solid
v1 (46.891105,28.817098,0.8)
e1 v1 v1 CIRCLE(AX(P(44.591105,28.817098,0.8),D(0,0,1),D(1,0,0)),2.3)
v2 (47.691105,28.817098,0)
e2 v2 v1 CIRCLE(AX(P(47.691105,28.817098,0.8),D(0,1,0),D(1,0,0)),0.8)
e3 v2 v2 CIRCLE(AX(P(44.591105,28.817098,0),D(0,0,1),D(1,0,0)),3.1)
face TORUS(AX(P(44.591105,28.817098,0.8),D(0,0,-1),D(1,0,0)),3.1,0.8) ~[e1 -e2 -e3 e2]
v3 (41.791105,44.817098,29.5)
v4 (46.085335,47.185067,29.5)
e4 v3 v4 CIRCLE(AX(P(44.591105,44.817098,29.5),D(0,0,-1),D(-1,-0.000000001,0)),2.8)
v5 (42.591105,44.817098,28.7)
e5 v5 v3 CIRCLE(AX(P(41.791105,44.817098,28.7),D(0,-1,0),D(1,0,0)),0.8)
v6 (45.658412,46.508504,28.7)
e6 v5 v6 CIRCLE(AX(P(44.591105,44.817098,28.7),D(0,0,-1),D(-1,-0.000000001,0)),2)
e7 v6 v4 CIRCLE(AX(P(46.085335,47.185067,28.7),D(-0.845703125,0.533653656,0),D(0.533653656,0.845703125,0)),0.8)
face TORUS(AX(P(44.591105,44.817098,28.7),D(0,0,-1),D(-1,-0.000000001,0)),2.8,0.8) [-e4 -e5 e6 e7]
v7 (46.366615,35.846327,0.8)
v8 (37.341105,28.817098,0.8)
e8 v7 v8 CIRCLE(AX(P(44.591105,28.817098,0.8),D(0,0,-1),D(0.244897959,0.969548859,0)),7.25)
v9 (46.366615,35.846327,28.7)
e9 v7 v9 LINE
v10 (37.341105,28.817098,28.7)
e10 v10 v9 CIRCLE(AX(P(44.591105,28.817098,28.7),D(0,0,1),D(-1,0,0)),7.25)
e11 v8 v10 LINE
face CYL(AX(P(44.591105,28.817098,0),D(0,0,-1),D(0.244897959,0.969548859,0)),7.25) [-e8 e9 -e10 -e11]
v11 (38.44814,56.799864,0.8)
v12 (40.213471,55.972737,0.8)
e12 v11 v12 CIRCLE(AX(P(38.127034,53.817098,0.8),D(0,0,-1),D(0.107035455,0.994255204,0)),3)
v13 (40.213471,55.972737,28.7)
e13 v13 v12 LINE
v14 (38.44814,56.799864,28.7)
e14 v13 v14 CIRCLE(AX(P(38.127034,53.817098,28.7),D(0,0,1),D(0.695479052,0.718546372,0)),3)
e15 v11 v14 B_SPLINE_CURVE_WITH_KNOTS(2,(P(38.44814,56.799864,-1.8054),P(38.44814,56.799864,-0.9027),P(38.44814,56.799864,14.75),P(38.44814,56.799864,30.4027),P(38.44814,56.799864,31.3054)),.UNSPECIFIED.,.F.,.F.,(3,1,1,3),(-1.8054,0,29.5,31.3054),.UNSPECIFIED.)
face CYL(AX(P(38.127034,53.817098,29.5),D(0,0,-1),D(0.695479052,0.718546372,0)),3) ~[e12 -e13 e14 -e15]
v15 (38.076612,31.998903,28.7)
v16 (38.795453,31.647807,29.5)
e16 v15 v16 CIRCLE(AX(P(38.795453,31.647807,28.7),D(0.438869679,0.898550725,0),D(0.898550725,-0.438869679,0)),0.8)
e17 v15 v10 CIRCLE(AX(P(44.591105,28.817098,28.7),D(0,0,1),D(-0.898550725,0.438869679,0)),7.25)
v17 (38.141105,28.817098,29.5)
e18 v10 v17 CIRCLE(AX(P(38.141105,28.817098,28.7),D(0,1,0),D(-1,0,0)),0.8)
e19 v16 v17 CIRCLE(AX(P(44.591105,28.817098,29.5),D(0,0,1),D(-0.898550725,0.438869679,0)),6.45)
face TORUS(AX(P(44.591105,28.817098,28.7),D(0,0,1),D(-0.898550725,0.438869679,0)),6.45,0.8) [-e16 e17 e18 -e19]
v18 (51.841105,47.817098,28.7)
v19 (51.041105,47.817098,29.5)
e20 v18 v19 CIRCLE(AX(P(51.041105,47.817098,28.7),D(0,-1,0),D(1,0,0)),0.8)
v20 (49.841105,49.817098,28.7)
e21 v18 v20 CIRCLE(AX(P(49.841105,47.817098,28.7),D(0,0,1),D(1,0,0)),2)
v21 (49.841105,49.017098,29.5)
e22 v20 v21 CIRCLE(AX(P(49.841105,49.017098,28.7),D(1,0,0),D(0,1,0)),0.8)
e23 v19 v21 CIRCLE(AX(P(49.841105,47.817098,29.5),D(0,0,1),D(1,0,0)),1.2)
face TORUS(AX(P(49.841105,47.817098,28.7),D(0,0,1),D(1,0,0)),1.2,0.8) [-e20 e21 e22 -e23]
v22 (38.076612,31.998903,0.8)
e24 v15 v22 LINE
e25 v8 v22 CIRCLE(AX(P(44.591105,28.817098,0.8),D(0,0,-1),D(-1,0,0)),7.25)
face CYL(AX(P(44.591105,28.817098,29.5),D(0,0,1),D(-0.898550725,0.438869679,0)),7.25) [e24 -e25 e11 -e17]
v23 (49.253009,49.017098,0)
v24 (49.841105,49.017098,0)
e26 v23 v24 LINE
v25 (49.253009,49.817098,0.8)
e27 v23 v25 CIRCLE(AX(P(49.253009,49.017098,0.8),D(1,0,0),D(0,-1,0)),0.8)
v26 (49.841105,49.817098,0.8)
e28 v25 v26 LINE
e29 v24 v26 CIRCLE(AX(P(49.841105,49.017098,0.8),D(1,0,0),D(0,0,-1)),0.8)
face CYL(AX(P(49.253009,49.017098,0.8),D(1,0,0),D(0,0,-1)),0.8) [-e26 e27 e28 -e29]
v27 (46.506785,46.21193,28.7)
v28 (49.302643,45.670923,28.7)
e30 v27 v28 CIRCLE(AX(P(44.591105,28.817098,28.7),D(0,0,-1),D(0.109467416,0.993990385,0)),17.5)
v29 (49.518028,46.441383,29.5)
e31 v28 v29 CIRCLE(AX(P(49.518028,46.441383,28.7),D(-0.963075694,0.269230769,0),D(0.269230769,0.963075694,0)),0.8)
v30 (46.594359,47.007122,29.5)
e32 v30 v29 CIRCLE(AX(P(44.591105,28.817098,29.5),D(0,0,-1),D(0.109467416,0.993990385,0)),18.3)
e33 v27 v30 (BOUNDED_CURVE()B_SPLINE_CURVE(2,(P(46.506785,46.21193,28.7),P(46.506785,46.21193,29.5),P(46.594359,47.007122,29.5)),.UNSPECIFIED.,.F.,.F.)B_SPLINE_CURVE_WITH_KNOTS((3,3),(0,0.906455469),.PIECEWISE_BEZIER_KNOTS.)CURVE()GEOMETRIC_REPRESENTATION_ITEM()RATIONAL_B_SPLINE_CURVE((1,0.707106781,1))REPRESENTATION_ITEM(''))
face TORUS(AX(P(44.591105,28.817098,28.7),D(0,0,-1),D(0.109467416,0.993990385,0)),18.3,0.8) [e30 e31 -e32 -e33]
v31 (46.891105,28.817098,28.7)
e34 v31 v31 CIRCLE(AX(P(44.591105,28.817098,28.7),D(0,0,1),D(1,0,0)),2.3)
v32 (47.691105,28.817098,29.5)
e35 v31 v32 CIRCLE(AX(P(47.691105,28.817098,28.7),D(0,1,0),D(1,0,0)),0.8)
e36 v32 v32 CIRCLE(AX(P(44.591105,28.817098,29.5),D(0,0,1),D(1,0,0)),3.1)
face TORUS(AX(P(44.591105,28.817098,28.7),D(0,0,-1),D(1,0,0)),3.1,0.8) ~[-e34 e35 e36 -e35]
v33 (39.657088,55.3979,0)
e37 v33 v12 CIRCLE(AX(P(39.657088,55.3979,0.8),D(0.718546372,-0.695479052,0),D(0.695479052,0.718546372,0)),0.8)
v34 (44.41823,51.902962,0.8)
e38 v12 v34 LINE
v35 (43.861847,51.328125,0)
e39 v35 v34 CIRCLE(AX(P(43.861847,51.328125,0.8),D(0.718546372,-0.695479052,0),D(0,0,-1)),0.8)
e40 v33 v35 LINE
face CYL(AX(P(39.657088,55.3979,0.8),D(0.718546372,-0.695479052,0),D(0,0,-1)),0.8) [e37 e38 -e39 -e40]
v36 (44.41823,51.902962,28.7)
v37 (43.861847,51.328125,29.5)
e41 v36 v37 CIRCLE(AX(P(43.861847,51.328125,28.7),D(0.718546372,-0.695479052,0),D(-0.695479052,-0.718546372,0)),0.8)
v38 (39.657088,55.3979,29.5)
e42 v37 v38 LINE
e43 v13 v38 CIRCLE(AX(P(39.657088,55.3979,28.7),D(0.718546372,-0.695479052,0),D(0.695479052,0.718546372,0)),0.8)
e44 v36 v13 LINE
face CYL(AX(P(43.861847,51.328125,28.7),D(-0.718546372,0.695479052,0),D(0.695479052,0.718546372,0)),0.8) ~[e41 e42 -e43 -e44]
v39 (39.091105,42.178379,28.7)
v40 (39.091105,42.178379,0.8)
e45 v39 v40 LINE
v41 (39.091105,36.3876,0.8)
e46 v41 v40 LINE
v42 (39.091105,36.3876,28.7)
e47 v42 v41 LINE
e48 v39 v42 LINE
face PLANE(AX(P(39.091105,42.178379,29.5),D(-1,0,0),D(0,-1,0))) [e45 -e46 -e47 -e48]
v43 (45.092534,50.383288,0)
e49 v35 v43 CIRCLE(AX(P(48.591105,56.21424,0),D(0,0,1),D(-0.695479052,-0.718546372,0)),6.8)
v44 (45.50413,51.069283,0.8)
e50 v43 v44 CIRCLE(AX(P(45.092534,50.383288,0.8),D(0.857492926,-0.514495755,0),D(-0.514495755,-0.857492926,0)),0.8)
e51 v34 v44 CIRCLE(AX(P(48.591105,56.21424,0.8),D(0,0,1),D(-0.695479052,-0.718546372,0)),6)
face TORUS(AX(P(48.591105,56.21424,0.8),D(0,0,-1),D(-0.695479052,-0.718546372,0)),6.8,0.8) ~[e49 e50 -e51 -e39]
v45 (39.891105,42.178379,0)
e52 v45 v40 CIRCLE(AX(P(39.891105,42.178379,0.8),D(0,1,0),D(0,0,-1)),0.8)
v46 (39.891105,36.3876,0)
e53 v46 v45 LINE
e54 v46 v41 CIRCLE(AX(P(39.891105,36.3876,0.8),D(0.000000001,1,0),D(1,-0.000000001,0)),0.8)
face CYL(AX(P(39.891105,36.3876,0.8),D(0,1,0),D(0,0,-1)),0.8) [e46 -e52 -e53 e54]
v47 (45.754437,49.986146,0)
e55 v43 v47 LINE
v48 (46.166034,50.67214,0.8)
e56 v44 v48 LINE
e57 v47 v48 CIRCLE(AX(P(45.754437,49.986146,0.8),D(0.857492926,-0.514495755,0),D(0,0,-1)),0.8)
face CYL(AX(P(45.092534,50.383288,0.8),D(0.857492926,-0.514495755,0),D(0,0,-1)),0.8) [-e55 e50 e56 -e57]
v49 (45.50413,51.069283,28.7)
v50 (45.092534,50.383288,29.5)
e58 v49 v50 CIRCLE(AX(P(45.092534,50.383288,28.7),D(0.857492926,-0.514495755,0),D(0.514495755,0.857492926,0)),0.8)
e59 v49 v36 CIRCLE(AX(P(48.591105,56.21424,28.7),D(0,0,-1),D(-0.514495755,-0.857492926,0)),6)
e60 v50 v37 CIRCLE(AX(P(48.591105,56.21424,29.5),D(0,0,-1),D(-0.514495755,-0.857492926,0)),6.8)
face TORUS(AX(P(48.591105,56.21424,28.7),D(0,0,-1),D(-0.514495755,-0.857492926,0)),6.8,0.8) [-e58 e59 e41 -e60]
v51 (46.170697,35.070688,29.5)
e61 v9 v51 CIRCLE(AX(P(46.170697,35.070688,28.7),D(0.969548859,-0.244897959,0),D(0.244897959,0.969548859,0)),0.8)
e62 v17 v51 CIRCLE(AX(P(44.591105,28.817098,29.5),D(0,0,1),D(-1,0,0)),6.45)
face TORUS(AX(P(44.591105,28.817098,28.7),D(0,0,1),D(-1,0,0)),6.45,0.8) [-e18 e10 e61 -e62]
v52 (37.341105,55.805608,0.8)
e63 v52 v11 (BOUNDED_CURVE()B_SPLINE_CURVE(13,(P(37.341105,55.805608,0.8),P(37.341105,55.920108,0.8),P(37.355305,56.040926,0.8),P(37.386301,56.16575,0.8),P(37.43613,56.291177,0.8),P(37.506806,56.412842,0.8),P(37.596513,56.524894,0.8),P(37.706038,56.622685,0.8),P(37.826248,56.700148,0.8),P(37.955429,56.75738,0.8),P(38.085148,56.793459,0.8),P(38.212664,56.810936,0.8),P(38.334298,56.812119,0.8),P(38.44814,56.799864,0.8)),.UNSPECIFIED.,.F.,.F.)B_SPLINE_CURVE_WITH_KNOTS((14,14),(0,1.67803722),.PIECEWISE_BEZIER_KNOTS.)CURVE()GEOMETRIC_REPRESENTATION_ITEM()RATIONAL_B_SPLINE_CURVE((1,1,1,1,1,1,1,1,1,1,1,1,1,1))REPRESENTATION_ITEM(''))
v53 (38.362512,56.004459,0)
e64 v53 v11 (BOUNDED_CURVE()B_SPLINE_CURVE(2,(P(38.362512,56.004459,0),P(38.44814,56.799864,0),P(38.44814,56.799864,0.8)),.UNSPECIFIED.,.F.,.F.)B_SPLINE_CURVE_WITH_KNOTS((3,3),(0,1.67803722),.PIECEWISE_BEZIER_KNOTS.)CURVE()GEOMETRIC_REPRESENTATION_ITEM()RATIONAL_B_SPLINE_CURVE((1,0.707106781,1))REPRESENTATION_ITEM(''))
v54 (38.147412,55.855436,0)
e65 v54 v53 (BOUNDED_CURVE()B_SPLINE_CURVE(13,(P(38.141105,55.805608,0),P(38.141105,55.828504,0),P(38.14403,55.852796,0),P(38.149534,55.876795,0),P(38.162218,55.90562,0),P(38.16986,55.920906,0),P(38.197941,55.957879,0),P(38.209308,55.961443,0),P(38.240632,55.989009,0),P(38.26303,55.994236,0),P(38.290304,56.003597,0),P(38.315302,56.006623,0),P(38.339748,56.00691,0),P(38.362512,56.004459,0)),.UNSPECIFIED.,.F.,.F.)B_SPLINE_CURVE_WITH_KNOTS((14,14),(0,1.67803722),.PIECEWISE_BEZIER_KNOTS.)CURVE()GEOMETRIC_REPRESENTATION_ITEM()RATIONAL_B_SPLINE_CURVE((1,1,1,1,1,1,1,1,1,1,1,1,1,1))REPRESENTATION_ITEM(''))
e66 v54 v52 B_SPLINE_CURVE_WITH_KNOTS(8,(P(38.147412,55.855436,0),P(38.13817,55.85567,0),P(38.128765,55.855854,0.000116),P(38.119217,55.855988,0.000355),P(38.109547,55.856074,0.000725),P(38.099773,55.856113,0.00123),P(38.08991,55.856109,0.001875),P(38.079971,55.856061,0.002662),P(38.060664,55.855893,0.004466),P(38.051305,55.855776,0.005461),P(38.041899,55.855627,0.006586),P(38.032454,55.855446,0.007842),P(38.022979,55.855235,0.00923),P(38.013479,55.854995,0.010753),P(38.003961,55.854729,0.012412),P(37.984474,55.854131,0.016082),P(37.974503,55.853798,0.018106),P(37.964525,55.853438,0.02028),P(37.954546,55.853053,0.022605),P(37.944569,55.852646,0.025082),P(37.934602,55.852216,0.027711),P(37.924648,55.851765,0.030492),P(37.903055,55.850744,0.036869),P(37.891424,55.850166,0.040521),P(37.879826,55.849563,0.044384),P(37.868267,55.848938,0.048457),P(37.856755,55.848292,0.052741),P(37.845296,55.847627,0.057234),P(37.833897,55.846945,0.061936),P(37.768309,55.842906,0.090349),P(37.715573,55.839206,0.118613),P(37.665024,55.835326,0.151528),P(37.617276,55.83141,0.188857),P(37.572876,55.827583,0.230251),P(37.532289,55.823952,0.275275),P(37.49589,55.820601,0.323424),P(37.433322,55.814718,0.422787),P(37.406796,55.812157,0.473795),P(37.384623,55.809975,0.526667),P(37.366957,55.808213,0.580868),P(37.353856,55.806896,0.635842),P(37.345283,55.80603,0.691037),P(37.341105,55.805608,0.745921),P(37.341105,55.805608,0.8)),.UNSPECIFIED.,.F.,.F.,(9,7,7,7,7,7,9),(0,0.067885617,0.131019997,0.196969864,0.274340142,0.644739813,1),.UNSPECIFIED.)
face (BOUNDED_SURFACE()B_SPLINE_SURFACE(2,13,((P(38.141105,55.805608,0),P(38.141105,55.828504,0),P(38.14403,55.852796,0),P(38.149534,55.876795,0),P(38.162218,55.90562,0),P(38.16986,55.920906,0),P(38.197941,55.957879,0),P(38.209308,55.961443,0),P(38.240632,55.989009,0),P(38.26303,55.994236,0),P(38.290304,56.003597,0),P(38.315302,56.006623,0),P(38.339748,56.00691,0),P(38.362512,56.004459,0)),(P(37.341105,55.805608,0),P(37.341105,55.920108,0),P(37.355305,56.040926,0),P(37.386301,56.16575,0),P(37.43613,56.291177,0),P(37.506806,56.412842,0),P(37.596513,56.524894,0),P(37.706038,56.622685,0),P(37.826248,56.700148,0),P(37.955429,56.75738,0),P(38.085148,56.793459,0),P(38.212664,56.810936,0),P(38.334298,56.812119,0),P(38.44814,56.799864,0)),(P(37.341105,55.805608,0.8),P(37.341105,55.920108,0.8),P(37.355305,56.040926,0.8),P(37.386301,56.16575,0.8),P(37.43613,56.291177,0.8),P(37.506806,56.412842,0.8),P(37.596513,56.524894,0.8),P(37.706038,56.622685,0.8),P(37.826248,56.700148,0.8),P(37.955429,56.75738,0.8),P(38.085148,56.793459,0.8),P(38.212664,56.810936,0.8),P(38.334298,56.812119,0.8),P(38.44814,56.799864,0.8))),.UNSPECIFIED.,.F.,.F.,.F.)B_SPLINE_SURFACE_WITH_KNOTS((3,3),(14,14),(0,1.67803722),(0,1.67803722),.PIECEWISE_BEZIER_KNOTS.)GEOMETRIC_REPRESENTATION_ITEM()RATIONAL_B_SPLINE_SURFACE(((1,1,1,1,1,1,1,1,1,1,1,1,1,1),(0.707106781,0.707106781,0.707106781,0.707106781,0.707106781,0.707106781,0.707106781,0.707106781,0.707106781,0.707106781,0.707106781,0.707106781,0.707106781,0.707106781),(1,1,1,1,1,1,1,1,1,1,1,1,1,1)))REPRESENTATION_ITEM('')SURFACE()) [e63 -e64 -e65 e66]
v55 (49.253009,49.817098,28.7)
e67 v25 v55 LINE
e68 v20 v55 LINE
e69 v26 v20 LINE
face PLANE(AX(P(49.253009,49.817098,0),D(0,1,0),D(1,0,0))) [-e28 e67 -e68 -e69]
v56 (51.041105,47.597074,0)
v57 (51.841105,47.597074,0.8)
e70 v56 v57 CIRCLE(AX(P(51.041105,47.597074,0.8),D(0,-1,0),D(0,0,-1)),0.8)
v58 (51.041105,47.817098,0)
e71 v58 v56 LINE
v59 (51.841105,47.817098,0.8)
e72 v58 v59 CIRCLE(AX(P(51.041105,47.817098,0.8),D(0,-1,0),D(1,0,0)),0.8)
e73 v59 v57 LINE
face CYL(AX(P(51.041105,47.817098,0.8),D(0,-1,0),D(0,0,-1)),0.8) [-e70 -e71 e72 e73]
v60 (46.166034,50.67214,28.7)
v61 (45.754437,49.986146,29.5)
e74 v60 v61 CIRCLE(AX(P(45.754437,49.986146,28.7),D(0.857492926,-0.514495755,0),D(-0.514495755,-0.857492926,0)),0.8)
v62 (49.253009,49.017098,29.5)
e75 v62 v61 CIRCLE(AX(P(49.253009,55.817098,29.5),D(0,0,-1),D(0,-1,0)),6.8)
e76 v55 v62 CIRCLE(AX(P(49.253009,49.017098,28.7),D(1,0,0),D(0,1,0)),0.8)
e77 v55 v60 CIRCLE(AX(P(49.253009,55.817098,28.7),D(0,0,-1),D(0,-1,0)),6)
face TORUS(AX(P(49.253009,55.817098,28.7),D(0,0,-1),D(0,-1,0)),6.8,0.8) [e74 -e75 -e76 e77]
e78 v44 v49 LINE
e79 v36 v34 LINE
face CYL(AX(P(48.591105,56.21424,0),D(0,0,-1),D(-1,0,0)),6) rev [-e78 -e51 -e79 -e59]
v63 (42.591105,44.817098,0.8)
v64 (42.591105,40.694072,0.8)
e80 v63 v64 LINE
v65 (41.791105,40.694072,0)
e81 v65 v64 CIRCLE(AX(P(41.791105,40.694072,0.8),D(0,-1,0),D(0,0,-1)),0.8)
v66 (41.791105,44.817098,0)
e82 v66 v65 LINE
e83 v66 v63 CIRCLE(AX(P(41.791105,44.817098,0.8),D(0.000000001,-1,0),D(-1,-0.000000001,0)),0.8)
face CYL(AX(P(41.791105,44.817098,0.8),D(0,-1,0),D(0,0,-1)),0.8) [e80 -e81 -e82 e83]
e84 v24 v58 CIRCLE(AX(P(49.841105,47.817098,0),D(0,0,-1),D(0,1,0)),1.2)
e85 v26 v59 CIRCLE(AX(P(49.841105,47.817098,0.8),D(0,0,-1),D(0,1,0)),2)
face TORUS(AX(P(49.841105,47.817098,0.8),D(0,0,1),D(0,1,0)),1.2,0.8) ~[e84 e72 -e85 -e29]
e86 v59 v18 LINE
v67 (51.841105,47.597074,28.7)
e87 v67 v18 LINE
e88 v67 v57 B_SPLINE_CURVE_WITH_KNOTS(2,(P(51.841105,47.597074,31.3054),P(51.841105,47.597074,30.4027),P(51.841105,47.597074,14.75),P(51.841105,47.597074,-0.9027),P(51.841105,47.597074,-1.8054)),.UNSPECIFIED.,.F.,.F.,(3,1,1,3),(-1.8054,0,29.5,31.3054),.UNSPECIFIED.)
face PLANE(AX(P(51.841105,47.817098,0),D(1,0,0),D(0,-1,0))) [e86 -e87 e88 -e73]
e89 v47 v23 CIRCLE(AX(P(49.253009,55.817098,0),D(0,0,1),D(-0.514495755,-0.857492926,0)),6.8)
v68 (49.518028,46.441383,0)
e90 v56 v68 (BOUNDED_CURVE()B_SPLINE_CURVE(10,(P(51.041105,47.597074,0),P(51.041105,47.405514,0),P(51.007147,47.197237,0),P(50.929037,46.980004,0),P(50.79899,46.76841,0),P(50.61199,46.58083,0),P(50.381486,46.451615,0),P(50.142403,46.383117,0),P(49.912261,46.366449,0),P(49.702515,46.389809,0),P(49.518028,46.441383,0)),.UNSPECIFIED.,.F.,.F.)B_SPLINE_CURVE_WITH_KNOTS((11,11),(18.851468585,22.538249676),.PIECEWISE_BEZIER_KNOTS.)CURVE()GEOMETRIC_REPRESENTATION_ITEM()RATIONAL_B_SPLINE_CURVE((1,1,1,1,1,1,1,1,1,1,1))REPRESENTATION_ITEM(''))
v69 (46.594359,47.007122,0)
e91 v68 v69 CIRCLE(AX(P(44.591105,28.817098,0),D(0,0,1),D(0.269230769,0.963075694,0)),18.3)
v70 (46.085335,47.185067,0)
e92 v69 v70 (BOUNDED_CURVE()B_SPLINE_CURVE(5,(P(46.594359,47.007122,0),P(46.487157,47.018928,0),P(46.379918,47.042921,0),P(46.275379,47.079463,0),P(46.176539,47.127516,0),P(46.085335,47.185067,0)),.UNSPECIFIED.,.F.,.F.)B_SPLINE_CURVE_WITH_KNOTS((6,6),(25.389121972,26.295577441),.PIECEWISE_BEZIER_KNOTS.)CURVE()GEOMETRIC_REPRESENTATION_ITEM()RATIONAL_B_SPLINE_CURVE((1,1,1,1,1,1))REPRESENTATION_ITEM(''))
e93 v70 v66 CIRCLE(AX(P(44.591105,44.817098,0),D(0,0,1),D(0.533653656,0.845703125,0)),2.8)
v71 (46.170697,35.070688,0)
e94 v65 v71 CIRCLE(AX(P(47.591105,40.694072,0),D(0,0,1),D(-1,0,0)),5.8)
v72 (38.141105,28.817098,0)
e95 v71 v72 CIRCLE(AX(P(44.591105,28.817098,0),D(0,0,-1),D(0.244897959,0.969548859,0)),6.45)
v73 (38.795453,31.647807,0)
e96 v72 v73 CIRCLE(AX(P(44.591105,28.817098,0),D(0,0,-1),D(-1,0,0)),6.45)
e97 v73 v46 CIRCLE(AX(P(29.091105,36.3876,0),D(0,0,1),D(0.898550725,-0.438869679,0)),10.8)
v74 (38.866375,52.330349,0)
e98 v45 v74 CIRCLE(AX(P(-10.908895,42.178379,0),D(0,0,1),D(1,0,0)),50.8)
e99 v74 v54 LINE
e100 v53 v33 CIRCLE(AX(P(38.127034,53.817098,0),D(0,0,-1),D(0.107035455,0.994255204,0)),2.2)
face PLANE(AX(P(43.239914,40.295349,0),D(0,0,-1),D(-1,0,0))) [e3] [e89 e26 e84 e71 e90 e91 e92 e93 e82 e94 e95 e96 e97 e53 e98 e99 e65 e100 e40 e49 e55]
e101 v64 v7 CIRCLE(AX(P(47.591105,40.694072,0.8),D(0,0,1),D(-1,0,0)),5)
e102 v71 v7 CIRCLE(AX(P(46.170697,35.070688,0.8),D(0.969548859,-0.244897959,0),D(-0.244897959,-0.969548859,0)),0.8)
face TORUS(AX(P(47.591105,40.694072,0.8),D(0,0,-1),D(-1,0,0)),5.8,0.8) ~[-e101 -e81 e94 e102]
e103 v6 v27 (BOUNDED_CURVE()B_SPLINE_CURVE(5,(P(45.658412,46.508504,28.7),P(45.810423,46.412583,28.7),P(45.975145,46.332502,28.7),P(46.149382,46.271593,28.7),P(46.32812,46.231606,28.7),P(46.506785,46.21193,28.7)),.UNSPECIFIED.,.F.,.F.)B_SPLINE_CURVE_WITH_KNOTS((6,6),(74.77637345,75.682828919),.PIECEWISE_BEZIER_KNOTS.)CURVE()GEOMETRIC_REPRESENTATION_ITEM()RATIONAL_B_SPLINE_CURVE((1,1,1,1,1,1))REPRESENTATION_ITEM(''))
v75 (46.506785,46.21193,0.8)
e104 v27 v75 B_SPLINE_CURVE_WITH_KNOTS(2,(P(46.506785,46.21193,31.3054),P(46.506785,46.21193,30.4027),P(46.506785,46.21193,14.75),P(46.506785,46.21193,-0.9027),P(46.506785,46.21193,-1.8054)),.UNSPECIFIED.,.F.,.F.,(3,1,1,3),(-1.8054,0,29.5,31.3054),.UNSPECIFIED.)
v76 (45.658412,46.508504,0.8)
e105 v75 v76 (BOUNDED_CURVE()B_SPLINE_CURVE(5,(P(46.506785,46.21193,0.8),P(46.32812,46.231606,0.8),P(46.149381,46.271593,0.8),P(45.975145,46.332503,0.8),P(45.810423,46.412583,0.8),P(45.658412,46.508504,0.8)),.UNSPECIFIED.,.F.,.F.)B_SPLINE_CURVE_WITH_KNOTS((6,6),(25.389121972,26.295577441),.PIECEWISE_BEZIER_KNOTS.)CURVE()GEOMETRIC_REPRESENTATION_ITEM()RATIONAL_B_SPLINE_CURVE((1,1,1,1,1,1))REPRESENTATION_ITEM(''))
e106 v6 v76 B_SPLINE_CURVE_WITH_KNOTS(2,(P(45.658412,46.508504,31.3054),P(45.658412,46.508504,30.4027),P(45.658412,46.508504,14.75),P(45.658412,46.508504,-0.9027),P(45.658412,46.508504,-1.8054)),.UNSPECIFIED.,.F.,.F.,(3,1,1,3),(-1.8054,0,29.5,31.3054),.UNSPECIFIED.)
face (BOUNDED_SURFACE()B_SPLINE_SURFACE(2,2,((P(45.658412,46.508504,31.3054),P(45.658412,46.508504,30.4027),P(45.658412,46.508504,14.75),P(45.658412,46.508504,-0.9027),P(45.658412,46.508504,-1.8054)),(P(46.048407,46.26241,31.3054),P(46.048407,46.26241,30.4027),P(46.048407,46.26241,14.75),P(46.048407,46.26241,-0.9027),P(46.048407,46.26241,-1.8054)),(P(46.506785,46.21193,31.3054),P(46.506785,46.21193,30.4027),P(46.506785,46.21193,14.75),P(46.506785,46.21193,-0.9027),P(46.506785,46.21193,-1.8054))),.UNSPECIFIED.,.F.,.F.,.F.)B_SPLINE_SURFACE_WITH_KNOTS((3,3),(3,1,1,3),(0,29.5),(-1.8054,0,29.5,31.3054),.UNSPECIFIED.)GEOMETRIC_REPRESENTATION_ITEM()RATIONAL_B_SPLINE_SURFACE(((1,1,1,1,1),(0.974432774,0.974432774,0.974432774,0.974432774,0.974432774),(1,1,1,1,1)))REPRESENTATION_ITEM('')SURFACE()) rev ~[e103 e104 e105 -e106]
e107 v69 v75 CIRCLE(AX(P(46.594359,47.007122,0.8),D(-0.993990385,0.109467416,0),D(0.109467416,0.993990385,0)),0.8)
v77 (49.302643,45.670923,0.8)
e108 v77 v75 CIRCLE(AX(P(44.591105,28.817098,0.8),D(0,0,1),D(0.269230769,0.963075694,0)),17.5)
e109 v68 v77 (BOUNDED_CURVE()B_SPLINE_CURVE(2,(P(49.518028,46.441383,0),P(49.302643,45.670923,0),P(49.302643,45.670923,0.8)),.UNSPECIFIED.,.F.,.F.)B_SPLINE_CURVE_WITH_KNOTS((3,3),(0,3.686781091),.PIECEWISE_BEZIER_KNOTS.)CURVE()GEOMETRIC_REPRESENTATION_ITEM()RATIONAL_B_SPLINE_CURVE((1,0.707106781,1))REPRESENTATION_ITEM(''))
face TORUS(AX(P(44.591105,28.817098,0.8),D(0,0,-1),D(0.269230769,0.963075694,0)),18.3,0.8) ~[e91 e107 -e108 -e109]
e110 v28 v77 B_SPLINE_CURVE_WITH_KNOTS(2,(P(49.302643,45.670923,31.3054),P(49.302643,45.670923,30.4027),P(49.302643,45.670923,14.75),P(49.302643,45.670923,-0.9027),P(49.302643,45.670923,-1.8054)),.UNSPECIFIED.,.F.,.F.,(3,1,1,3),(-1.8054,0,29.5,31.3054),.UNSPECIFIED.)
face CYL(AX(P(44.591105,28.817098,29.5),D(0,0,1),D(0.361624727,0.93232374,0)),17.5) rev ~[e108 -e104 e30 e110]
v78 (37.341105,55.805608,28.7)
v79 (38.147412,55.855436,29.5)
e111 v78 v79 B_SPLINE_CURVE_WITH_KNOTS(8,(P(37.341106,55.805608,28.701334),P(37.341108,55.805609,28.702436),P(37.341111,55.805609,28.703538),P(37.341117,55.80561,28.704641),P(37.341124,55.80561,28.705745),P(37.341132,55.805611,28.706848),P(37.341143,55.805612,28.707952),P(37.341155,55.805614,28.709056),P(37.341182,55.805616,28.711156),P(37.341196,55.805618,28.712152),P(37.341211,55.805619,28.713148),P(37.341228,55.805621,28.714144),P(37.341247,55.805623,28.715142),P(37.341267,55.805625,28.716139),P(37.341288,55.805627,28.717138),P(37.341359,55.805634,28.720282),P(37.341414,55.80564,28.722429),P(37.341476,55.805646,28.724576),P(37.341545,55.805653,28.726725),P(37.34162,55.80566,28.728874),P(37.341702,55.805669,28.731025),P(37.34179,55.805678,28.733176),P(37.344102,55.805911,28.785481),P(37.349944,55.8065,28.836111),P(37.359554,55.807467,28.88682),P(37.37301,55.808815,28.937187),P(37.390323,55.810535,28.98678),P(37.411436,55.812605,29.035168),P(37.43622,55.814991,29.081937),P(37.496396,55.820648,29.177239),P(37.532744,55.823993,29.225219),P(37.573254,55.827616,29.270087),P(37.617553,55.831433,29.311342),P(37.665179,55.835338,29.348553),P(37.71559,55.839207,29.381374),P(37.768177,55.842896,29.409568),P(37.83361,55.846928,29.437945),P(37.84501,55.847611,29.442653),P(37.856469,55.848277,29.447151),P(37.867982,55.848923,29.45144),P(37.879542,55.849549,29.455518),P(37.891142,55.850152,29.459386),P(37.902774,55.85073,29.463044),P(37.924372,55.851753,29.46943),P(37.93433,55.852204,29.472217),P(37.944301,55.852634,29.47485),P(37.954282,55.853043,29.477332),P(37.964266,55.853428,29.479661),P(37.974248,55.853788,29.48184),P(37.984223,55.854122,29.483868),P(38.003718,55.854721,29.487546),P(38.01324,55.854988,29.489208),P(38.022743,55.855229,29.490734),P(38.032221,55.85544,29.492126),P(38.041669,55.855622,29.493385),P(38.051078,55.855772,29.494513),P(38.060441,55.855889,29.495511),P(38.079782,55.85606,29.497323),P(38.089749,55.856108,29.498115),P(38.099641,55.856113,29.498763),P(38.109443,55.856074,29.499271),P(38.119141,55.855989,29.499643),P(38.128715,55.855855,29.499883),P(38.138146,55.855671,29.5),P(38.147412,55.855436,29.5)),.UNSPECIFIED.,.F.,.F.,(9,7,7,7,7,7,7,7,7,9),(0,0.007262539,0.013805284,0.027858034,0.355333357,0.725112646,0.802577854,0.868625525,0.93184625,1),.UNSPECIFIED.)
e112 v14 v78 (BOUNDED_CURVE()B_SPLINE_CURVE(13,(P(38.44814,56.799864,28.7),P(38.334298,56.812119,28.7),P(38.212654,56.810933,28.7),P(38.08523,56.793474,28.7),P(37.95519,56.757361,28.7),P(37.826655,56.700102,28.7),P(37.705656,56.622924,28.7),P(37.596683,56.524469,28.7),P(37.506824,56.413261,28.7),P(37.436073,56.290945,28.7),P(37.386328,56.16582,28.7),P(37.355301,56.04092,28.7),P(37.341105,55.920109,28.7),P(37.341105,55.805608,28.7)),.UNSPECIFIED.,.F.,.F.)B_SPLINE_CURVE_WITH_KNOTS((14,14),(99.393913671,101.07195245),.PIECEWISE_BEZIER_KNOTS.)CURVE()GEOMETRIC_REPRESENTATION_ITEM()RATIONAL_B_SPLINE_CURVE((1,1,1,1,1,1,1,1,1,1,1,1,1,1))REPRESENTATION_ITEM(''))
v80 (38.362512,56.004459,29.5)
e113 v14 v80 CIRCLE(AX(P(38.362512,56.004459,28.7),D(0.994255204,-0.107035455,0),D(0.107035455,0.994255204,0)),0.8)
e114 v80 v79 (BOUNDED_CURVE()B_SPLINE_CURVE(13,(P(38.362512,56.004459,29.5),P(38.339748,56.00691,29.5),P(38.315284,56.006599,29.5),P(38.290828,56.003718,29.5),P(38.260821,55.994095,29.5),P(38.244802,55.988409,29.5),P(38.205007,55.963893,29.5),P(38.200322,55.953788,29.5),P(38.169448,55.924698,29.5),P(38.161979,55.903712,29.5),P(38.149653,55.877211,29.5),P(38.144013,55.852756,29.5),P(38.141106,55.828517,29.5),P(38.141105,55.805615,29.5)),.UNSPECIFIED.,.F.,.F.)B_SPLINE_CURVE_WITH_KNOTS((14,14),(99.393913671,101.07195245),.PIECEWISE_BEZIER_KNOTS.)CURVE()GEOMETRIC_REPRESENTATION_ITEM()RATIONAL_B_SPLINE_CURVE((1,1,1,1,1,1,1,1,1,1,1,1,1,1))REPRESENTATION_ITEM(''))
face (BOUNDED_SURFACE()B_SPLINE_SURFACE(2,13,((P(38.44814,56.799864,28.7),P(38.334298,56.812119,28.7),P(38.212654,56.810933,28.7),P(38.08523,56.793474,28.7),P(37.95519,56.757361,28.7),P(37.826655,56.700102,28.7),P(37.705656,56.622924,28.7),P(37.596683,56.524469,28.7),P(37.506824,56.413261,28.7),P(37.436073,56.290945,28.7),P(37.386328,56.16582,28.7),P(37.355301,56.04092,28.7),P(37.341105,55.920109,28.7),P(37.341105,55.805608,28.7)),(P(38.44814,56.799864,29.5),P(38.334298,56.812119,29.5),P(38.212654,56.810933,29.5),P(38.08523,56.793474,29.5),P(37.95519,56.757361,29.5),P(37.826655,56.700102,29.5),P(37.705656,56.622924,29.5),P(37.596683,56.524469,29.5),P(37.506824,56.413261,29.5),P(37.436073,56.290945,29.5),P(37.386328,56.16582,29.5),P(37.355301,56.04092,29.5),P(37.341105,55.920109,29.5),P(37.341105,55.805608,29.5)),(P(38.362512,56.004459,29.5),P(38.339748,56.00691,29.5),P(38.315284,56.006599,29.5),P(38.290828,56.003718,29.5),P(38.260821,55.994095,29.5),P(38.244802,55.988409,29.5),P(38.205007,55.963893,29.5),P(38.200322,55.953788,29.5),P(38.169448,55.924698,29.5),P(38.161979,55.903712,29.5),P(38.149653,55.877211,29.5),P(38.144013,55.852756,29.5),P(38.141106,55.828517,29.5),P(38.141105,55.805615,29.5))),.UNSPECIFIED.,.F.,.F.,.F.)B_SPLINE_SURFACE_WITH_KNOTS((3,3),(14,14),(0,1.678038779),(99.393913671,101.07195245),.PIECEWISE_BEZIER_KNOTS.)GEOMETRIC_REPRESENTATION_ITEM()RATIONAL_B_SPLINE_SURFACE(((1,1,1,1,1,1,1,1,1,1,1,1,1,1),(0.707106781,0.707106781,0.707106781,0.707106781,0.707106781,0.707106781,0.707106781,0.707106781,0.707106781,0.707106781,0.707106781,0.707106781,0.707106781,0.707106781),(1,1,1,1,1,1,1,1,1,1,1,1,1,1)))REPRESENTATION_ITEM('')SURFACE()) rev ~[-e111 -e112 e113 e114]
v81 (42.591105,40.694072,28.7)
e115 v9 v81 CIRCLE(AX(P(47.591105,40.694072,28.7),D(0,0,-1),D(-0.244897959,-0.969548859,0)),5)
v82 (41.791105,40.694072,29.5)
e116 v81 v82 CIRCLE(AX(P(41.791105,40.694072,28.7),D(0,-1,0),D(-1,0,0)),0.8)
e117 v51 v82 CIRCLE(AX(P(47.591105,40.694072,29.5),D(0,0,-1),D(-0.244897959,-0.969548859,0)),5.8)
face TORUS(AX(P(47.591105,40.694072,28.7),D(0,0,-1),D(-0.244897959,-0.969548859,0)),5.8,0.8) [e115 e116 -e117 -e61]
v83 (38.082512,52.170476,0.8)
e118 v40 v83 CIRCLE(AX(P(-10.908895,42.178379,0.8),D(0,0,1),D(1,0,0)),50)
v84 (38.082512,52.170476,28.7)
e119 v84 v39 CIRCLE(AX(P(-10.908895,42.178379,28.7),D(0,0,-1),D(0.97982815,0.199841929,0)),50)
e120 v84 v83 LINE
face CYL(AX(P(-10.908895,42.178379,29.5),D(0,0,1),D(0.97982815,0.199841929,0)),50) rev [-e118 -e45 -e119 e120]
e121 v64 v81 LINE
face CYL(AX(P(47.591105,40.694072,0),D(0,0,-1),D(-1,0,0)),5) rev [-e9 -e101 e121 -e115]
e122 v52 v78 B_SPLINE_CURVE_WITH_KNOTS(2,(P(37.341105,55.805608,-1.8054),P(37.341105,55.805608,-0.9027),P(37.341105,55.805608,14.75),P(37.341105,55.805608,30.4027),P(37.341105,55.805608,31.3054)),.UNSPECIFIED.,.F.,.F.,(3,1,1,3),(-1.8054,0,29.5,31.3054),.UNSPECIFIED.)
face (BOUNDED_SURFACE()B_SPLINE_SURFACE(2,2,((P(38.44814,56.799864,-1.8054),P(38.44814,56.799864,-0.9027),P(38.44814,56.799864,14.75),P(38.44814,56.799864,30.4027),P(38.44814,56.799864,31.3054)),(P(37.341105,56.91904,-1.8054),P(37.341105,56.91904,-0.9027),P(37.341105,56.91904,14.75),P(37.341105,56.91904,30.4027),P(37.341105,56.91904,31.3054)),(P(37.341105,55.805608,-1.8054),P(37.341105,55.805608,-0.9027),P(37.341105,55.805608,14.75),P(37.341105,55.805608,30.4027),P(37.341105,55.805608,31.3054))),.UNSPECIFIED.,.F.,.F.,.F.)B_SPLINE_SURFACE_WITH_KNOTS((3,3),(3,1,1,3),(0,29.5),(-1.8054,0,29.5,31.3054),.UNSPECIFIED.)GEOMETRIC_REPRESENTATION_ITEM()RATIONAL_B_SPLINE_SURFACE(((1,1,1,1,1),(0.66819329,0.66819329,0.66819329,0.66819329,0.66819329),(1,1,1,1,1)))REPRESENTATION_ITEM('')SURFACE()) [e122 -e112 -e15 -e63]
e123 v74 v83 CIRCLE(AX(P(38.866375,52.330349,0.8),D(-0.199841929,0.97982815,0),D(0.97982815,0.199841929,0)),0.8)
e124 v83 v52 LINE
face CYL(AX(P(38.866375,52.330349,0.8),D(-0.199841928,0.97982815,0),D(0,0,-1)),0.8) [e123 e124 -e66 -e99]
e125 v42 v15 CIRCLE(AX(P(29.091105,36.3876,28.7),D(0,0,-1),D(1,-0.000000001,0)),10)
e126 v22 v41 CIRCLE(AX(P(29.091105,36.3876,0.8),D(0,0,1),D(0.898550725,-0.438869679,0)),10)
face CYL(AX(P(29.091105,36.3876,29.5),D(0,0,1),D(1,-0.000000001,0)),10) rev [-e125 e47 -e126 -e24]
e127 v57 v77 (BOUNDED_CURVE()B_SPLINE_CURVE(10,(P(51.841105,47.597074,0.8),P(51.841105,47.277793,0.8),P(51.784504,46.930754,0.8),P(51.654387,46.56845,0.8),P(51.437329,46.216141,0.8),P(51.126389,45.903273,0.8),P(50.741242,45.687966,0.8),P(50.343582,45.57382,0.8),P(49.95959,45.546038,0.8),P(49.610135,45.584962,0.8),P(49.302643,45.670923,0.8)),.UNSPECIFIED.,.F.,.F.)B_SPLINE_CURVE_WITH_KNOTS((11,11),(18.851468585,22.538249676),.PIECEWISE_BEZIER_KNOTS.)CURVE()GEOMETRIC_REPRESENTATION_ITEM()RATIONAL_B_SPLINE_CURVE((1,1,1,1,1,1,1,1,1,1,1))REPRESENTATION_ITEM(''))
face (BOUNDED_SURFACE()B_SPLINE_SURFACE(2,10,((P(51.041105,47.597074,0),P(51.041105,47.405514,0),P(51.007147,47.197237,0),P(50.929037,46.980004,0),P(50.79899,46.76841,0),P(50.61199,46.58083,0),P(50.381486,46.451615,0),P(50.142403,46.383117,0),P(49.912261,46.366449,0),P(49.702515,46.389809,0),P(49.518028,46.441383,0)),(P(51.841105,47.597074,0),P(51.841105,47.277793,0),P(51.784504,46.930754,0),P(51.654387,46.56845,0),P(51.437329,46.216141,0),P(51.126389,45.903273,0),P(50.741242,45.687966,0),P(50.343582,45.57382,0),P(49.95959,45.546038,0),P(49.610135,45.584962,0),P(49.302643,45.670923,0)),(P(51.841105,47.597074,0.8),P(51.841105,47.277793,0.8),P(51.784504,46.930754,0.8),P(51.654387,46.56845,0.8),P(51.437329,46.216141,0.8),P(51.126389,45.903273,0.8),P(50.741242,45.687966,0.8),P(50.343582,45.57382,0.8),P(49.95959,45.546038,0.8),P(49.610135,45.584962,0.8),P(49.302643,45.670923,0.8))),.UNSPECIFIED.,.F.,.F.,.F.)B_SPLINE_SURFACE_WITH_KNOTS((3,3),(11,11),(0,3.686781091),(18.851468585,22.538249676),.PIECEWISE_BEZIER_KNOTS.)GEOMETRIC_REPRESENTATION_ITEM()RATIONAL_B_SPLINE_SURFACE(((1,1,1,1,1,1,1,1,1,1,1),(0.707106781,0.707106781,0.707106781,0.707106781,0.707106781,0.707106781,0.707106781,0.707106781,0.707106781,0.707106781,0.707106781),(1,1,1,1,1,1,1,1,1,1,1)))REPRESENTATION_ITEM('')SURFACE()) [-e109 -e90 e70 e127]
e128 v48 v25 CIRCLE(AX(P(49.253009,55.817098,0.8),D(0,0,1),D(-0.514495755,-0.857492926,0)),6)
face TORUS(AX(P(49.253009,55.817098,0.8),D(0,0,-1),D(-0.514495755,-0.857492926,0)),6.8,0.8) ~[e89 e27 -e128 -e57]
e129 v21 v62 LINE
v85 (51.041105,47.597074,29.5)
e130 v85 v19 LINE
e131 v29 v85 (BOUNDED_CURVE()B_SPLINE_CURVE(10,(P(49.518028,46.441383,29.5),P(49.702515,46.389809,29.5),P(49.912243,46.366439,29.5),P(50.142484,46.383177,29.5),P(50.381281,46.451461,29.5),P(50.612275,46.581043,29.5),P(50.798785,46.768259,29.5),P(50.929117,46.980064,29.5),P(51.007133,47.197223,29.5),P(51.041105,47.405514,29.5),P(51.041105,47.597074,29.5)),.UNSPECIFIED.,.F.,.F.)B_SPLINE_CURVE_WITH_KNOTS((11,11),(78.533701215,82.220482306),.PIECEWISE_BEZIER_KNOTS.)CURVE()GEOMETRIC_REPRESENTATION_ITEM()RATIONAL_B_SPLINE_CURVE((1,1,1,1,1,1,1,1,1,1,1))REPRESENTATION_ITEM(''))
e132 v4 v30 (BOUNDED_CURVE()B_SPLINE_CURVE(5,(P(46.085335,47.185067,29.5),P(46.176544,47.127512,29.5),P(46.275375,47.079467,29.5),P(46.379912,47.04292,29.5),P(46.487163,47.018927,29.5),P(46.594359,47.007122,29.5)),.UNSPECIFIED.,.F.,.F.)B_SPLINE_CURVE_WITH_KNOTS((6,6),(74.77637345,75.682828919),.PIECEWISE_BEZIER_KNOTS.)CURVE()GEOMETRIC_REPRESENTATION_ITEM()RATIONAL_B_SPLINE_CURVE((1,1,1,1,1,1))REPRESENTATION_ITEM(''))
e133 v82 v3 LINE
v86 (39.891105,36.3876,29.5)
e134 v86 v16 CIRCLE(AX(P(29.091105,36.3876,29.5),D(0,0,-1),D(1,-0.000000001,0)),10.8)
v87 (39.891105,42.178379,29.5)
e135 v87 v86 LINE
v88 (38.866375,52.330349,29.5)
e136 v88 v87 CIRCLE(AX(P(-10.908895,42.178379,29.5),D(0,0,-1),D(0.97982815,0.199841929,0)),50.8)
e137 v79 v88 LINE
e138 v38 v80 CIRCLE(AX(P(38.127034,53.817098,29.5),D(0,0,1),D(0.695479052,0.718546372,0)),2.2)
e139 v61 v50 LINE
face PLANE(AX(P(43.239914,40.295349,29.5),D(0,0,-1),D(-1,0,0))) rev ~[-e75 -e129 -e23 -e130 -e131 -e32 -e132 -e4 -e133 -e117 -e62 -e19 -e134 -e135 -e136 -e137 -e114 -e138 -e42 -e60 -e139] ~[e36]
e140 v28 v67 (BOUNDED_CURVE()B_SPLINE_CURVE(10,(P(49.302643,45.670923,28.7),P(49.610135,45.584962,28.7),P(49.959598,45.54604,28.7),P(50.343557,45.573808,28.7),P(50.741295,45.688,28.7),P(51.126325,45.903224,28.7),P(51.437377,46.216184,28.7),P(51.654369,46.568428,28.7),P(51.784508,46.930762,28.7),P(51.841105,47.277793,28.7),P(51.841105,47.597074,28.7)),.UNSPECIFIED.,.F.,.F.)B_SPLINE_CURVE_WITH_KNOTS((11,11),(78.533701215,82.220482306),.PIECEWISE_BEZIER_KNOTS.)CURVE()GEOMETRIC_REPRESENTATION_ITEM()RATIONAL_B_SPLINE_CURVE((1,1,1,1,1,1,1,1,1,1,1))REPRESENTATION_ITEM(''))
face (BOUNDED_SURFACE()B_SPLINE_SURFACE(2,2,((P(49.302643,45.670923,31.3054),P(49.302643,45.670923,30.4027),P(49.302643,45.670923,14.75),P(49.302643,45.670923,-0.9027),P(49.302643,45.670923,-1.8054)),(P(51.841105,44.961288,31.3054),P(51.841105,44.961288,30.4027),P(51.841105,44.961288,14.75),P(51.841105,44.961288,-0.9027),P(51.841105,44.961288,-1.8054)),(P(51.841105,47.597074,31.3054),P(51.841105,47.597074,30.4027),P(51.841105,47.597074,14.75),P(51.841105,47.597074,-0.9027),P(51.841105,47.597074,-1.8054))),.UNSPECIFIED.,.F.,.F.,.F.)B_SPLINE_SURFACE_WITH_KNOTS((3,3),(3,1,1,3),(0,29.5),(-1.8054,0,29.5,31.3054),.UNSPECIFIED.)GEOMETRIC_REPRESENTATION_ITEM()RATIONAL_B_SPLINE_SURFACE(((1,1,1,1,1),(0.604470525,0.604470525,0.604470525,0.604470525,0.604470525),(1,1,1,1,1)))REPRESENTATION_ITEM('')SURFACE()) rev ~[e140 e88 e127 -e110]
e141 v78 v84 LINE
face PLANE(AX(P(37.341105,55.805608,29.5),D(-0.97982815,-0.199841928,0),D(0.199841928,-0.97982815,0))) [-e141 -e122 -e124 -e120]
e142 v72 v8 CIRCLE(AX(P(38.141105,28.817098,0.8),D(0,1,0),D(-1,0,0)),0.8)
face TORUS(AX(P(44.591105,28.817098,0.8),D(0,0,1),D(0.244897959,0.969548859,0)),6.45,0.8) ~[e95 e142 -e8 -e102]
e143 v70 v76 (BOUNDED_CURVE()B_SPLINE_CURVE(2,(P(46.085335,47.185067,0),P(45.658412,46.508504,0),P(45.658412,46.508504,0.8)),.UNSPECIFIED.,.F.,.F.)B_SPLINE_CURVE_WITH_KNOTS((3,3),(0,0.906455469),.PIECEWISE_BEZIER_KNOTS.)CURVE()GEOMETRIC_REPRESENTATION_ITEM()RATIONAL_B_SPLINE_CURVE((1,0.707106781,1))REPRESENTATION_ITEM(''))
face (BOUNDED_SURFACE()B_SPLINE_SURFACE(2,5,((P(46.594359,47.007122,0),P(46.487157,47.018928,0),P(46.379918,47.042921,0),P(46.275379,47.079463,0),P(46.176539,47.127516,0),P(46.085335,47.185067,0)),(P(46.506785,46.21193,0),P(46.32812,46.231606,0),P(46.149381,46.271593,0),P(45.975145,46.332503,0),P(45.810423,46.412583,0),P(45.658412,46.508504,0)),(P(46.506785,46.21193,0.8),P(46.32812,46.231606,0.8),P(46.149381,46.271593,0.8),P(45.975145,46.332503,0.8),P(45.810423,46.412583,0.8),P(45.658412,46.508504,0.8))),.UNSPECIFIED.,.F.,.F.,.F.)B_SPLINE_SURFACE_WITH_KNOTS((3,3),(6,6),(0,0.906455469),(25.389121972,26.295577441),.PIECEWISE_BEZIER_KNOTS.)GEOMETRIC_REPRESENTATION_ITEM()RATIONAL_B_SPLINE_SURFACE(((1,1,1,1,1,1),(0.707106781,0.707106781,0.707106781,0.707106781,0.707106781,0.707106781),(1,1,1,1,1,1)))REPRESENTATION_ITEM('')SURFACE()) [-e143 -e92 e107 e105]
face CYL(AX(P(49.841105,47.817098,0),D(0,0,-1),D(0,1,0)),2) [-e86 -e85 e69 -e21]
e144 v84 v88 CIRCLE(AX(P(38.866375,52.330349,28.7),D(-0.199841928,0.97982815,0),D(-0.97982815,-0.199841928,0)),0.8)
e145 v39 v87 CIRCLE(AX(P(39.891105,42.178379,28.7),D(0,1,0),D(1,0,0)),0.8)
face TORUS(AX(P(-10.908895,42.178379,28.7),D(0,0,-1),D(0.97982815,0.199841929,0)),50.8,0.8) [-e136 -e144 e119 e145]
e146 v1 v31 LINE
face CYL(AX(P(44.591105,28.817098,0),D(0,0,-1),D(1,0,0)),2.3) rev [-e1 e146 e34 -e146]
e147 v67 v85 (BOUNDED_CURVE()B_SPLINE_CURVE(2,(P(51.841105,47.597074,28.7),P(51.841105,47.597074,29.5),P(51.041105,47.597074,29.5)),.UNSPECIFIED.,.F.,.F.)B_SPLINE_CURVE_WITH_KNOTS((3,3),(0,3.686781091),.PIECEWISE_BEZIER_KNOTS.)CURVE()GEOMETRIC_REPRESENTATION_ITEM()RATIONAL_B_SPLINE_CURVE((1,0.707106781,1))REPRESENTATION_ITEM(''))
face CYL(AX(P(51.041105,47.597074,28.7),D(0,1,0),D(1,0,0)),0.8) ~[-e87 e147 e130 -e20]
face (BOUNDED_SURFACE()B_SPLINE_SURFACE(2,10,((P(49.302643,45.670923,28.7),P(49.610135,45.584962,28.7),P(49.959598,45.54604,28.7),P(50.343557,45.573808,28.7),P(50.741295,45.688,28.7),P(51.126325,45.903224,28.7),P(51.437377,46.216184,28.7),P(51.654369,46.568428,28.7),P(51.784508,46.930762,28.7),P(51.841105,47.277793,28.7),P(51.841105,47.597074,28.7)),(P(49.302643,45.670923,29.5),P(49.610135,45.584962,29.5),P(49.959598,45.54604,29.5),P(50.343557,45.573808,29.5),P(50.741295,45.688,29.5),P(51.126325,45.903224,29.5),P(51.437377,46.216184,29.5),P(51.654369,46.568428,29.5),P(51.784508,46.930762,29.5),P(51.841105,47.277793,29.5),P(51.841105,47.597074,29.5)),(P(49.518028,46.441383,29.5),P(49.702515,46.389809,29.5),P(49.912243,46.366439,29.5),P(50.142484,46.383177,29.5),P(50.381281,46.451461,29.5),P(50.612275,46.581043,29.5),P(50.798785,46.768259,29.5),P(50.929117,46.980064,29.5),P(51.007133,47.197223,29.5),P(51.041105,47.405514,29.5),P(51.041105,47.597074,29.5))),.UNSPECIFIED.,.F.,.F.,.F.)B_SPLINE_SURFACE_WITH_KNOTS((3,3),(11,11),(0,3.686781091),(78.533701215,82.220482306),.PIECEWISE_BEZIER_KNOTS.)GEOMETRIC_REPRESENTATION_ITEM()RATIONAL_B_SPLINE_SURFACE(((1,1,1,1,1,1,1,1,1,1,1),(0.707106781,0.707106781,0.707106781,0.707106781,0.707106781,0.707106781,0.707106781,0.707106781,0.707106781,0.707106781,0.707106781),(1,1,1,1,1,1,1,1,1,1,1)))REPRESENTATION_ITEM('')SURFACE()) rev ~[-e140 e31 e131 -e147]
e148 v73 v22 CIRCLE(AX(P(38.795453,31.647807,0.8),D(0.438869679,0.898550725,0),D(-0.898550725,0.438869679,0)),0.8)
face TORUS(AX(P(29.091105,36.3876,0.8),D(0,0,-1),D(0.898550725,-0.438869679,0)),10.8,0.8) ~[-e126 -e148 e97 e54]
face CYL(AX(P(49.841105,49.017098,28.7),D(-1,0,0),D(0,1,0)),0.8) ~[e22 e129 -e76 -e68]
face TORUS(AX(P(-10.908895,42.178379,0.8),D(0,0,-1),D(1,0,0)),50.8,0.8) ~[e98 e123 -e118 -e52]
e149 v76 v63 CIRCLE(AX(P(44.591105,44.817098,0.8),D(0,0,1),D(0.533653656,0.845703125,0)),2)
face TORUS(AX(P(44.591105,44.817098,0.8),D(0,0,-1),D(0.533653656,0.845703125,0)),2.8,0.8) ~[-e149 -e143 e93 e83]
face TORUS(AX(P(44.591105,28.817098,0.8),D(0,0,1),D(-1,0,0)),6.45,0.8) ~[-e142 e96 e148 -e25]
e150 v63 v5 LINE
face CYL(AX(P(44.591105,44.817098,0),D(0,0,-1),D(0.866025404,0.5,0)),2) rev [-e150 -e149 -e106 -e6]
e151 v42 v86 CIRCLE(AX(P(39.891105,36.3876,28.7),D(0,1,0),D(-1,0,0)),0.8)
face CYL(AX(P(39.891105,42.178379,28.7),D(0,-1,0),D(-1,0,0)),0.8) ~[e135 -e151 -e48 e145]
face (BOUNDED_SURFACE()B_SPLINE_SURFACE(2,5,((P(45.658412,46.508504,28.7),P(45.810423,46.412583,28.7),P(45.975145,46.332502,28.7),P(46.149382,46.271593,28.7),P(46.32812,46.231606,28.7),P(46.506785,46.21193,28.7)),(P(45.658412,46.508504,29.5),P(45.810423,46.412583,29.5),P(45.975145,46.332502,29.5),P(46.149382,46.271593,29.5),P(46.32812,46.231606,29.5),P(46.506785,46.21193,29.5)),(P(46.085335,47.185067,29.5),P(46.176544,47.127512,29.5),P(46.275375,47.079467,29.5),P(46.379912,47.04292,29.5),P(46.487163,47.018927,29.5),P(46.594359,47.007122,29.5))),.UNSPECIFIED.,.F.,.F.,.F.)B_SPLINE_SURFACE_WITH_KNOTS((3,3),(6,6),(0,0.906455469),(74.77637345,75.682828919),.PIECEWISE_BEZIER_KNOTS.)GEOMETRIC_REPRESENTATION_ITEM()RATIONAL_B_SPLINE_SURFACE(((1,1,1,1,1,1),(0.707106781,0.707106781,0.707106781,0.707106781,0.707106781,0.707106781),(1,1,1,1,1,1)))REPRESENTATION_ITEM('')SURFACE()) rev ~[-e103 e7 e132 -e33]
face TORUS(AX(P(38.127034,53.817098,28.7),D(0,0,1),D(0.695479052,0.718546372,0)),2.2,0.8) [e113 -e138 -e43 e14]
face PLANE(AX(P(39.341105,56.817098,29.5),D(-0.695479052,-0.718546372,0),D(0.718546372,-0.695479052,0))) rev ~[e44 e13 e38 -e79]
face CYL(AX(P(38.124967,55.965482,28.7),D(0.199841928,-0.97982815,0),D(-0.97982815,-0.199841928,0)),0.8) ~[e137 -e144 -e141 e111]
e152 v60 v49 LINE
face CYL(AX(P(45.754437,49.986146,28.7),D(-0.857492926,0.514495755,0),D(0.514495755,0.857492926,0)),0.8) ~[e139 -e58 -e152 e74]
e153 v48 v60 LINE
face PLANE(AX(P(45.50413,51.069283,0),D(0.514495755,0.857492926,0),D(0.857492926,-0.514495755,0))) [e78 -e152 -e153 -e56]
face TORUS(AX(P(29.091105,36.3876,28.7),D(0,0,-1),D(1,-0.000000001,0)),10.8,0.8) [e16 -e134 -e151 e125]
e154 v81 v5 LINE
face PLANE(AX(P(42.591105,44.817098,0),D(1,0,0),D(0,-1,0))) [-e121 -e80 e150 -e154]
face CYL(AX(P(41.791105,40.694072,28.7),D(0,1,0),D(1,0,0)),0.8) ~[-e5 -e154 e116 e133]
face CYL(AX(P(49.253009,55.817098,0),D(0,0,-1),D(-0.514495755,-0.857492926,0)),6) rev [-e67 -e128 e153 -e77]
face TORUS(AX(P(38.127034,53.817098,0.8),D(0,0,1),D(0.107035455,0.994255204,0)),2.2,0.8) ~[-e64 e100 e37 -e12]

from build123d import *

# Parameters (mm, degrees)
SKETCH_1_R          = 2.3
EXTRUDE_1_DEPTH     = 29.5
CUT_EXTRUDE_2_DEPTH = 83.376773242
FILLET_4_R          = 3
FILLET_5_R          = 1
CUT_EXTRUDE_3_DEPTH = 83.368849205
CUT_EXTRUDE_4_DEPTH = 83.368849205
FILLET_6_R          = 2
FILLET_7_R          = 0.8


with BuildPart() as part:
    # 草图1 → 凸台-拉伸1 (new body)
    with BuildSketch(Plane.XY):
        with BuildLine():
            Line((49.84110478, 44.817097999), (48.055206395, 44.817097999))
            ThreePointArc((48.055206395, 44.817097999), (47.055206395, 45.085047192), (46.323155587, 45.817097999))
            ThreePointArc((46.323155587, 45.817097999), (44.073466689, 46.748949652), (42.59110478, 44.817097999))
            Line((42.59110478, 44.817097999), (42.59110478, 40.694071519))
            ThreePointArc((42.59110478, 40.694071519), (43.646332988, 37.621812495), (46.366614984, 35.846327225))
            ThreePointArc((46.366614984, 35.846327225), (49.045880364, 23.097178901), (37.34110478, 28.817097999))
            Line((37.34110478, 28.817097999), (37.34110478, 44.817097999))
            Line((37.34110478, 44.817097999), (37.34110478, 56.817097999))
            Line((37.34110478, 56.817097999), (42.59110478, 56.817097999))
            Line((42.59110478, 56.817097999), (42.59110478, 56.214240273))
            ThreePointArc((42.59110478, 56.214240273), (43.369905339, 53.258047383), (45.504130247, 51.069282719))
            Line((45.504130247, 51.069282719), (46.166034037, 50.672140445))
            ThreePointArc((46.166034037, 50.672140445), (47.651407078, 50.03480843), (49.253008569, 49.817097999))
            Line((49.253008569, 49.817097999), (49.84110478, 49.817097999))
            ThreePointArc((49.84110478, 49.817097999), (51.255318342, 49.231311562), (51.84110478, 47.817097999))
            Line((51.84110478, 47.817097999), (51.84110478, 46.817097999))
            ThreePointArc((51.84110478, 46.817097999), (51.255318342, 45.402884437), (49.84110478, 44.817097999))
        make_face()
        with Locations((44.59110478, 28.817097999)):
            Circle(SKETCH_1_R, mode=Mode.SUBTRACT)
    extrude(amount=EXTRUDE_1_DEPTH)

    # 草图3 → 切除-拉伸2 (cut, through all)
    with BuildSketch(Plane.XY.offset(29.5)):
        with BuildLine():
            Line((39.34110478, 56.817097999), (44.418230467, 51.902962044))
            ThreePointArc((44.418230467, 51.902962044), (43.066738487, 53.873006183), (42.59110478, 56.214240273))
            Line((42.59110478, 56.214240273), (42.59110478, 56.817097999))
            Line((42.59110478, 56.817097999), (39.34110478, 56.817097999))
        make_face()
    extrude(amount=-CUT_EXTRUDE_2_DEPTH, mode=Mode.SUBTRACT)

    # 圆角4
    fillet_4_edges = [part.edges().sort_by_distance(p)[0] for p in [
        (39.34110478, 56.817097999, 14.75),
    ]]
    fillet(fillet_4_edges, radius=FILLET_4_R)

    # 圆角5
    fillet_5_edges = [part.edges().sort_by_distance(p)[0] for p in [
        (37.34110478, 56.817097999, 14.75),
    ]]
    fillet(fillet_5_edges, radius=FILLET_5_R)

    # 草图4 → 切除-拉伸3 (cut, through all)
    with BuildSketch(Plane.XY.offset(29.5)):
        with BuildLine():
            Line((48.055206395, 44.817097999), (49.84110478, 44.817097999))
            ThreePointArc((49.84110478, 44.817097999), (50.40294591, 44.897635954), (50.919537504, 45.132763455))
            ThreePointArc((50.919537504, 45.132763455), (48.487682705, 45.877774436), (45.973519977, 46.262410499))
            ThreePointArc((45.973519977, 46.262410499), (46.164175162, 46.052188915), (46.323155587, 45.817097999))
            ThreePointArc((46.323155587, 45.817097999), (47.055206395, 45.085047192), (48.055206395, 44.817097999))
        make_face()
    extrude(amount=-CUT_EXTRUDE_3_DEPTH, mode=Mode.SUBTRACT)

    # 草图5 → 切除-拉伸4 (cut, through all)
    with BuildSketch(Plane.XY.offset(29.5)):
        with BuildLine():
            Line((39.09110478, 40.694071519), (39.09110478, 36.387599964))
            ThreePointArc((39.09110478, 36.387599964), (38.834181102, 34.135386882), (38.076612026, 31.998903173))
            ThreePointArc((38.076612026, 31.998903173), (37.527374446, 30.449952484), (37.34110478, 28.817097999))
            Line((37.34110478, 28.817097999), (37.34110478, 55.805608408))
            Line((37.34110478, 55.805608408), (38.08251228, 52.170475657))
            ThreePointArc((38.08251228, 52.170475657), (38.838317641, 47.199814526), (39.09110478, 42.178379225))
            Line((39.09110478, 42.178379225), (39.09110478, 40.694071519))
        make_face()
    extrude(amount=-CUT_EXTRUDE_4_DEPTH, mode=Mode.SUBTRACT)

    # 圆角6
    fillet_6_edges = [part.edges().sort_by_distance(p)[0] for p in [
        (45.973519977, 46.262410499, 14.75),
        (50.919537504, 45.132763455, 14.75),
    ]]
    fillet(fillet_6_edges, radius=FILLET_6_R)

    # 圆角7
    fillet_7_edges = [part.edges().sort_by_distance(p)[0] for p in [
        (38.834181102, 34.135386882, 0),
        (37.71180853, 53.988042032, 0),
        (38.838317641, 47.199814526, 0),
        (39.09110478, 39.282989595, 0),
        (38.834181102, 34.135386882, 29.5),
        (39.09110478, 39.282989595, 29.5),
        (38.838317641, 47.199814526, 29.5),
        (37.71180853, 53.988042032, 29.5),
        (47.91573673, 45.998390803, 29.5),
        (51.84110478, 47.707086018, 29.5),
        (51.050045829, 46.003819024, 29.5),
        (46.065724081, 46.311947, 29.5),
        (47.91573673, 45.998390803, 0),
        (51.84110478, 47.707086018, 0),
        (51.050045829, 46.003819024, 0),
        (46.065724081, 46.311947, 0),
        (43.625344619, 46.568470978, 0),
        (42.59110478, 42.755584759, 0),
        (43.646332988, 37.621812495, 0),
        (49.045880364, 23.097178901, 0),
        (44.937325008, 51.455049861, 0),
        (45.835082142, 50.870711582, 0),
        (47.651407078, 50.03480843, 0),
        (51.255318342, 49.231311562, 29.5),
        (49.547056674, 49.817097999, 0),
        (51.255318342, 49.231311562, 0),
        (49.547056674, 49.817097999, 29.5),
        (47.651407078, 50.03480843, 29.5),
        (45.835082142, 50.870711582, 29.5),
        (44.937325008, 51.455049861, 29.5),
        (42.29110478, 28.817097999, 0),
        (42.29110478, 28.817097999, 29.5),
        (49.045880364, 23.097178901, 29.5),
        (43.646332988, 37.621812495, 29.5),
        (42.59110478, 42.755584759, 29.5),
        (43.625344619, 46.568470978, 29.5),
        (42.315850747, 53.937849579, 29.5),
        (42.315850747, 53.937849579, 0),
        (39.399865757, 56.533694949, 29.5),
        (39.399865757, 56.533694949, 0),
        (37.67291149, 56.549596128, 0),
        (37.67291149, 56.549596128, 29.5),
    ]]
    fillet(fillet_7_edges, radius=FILLET_7_R)


solid = part.part
